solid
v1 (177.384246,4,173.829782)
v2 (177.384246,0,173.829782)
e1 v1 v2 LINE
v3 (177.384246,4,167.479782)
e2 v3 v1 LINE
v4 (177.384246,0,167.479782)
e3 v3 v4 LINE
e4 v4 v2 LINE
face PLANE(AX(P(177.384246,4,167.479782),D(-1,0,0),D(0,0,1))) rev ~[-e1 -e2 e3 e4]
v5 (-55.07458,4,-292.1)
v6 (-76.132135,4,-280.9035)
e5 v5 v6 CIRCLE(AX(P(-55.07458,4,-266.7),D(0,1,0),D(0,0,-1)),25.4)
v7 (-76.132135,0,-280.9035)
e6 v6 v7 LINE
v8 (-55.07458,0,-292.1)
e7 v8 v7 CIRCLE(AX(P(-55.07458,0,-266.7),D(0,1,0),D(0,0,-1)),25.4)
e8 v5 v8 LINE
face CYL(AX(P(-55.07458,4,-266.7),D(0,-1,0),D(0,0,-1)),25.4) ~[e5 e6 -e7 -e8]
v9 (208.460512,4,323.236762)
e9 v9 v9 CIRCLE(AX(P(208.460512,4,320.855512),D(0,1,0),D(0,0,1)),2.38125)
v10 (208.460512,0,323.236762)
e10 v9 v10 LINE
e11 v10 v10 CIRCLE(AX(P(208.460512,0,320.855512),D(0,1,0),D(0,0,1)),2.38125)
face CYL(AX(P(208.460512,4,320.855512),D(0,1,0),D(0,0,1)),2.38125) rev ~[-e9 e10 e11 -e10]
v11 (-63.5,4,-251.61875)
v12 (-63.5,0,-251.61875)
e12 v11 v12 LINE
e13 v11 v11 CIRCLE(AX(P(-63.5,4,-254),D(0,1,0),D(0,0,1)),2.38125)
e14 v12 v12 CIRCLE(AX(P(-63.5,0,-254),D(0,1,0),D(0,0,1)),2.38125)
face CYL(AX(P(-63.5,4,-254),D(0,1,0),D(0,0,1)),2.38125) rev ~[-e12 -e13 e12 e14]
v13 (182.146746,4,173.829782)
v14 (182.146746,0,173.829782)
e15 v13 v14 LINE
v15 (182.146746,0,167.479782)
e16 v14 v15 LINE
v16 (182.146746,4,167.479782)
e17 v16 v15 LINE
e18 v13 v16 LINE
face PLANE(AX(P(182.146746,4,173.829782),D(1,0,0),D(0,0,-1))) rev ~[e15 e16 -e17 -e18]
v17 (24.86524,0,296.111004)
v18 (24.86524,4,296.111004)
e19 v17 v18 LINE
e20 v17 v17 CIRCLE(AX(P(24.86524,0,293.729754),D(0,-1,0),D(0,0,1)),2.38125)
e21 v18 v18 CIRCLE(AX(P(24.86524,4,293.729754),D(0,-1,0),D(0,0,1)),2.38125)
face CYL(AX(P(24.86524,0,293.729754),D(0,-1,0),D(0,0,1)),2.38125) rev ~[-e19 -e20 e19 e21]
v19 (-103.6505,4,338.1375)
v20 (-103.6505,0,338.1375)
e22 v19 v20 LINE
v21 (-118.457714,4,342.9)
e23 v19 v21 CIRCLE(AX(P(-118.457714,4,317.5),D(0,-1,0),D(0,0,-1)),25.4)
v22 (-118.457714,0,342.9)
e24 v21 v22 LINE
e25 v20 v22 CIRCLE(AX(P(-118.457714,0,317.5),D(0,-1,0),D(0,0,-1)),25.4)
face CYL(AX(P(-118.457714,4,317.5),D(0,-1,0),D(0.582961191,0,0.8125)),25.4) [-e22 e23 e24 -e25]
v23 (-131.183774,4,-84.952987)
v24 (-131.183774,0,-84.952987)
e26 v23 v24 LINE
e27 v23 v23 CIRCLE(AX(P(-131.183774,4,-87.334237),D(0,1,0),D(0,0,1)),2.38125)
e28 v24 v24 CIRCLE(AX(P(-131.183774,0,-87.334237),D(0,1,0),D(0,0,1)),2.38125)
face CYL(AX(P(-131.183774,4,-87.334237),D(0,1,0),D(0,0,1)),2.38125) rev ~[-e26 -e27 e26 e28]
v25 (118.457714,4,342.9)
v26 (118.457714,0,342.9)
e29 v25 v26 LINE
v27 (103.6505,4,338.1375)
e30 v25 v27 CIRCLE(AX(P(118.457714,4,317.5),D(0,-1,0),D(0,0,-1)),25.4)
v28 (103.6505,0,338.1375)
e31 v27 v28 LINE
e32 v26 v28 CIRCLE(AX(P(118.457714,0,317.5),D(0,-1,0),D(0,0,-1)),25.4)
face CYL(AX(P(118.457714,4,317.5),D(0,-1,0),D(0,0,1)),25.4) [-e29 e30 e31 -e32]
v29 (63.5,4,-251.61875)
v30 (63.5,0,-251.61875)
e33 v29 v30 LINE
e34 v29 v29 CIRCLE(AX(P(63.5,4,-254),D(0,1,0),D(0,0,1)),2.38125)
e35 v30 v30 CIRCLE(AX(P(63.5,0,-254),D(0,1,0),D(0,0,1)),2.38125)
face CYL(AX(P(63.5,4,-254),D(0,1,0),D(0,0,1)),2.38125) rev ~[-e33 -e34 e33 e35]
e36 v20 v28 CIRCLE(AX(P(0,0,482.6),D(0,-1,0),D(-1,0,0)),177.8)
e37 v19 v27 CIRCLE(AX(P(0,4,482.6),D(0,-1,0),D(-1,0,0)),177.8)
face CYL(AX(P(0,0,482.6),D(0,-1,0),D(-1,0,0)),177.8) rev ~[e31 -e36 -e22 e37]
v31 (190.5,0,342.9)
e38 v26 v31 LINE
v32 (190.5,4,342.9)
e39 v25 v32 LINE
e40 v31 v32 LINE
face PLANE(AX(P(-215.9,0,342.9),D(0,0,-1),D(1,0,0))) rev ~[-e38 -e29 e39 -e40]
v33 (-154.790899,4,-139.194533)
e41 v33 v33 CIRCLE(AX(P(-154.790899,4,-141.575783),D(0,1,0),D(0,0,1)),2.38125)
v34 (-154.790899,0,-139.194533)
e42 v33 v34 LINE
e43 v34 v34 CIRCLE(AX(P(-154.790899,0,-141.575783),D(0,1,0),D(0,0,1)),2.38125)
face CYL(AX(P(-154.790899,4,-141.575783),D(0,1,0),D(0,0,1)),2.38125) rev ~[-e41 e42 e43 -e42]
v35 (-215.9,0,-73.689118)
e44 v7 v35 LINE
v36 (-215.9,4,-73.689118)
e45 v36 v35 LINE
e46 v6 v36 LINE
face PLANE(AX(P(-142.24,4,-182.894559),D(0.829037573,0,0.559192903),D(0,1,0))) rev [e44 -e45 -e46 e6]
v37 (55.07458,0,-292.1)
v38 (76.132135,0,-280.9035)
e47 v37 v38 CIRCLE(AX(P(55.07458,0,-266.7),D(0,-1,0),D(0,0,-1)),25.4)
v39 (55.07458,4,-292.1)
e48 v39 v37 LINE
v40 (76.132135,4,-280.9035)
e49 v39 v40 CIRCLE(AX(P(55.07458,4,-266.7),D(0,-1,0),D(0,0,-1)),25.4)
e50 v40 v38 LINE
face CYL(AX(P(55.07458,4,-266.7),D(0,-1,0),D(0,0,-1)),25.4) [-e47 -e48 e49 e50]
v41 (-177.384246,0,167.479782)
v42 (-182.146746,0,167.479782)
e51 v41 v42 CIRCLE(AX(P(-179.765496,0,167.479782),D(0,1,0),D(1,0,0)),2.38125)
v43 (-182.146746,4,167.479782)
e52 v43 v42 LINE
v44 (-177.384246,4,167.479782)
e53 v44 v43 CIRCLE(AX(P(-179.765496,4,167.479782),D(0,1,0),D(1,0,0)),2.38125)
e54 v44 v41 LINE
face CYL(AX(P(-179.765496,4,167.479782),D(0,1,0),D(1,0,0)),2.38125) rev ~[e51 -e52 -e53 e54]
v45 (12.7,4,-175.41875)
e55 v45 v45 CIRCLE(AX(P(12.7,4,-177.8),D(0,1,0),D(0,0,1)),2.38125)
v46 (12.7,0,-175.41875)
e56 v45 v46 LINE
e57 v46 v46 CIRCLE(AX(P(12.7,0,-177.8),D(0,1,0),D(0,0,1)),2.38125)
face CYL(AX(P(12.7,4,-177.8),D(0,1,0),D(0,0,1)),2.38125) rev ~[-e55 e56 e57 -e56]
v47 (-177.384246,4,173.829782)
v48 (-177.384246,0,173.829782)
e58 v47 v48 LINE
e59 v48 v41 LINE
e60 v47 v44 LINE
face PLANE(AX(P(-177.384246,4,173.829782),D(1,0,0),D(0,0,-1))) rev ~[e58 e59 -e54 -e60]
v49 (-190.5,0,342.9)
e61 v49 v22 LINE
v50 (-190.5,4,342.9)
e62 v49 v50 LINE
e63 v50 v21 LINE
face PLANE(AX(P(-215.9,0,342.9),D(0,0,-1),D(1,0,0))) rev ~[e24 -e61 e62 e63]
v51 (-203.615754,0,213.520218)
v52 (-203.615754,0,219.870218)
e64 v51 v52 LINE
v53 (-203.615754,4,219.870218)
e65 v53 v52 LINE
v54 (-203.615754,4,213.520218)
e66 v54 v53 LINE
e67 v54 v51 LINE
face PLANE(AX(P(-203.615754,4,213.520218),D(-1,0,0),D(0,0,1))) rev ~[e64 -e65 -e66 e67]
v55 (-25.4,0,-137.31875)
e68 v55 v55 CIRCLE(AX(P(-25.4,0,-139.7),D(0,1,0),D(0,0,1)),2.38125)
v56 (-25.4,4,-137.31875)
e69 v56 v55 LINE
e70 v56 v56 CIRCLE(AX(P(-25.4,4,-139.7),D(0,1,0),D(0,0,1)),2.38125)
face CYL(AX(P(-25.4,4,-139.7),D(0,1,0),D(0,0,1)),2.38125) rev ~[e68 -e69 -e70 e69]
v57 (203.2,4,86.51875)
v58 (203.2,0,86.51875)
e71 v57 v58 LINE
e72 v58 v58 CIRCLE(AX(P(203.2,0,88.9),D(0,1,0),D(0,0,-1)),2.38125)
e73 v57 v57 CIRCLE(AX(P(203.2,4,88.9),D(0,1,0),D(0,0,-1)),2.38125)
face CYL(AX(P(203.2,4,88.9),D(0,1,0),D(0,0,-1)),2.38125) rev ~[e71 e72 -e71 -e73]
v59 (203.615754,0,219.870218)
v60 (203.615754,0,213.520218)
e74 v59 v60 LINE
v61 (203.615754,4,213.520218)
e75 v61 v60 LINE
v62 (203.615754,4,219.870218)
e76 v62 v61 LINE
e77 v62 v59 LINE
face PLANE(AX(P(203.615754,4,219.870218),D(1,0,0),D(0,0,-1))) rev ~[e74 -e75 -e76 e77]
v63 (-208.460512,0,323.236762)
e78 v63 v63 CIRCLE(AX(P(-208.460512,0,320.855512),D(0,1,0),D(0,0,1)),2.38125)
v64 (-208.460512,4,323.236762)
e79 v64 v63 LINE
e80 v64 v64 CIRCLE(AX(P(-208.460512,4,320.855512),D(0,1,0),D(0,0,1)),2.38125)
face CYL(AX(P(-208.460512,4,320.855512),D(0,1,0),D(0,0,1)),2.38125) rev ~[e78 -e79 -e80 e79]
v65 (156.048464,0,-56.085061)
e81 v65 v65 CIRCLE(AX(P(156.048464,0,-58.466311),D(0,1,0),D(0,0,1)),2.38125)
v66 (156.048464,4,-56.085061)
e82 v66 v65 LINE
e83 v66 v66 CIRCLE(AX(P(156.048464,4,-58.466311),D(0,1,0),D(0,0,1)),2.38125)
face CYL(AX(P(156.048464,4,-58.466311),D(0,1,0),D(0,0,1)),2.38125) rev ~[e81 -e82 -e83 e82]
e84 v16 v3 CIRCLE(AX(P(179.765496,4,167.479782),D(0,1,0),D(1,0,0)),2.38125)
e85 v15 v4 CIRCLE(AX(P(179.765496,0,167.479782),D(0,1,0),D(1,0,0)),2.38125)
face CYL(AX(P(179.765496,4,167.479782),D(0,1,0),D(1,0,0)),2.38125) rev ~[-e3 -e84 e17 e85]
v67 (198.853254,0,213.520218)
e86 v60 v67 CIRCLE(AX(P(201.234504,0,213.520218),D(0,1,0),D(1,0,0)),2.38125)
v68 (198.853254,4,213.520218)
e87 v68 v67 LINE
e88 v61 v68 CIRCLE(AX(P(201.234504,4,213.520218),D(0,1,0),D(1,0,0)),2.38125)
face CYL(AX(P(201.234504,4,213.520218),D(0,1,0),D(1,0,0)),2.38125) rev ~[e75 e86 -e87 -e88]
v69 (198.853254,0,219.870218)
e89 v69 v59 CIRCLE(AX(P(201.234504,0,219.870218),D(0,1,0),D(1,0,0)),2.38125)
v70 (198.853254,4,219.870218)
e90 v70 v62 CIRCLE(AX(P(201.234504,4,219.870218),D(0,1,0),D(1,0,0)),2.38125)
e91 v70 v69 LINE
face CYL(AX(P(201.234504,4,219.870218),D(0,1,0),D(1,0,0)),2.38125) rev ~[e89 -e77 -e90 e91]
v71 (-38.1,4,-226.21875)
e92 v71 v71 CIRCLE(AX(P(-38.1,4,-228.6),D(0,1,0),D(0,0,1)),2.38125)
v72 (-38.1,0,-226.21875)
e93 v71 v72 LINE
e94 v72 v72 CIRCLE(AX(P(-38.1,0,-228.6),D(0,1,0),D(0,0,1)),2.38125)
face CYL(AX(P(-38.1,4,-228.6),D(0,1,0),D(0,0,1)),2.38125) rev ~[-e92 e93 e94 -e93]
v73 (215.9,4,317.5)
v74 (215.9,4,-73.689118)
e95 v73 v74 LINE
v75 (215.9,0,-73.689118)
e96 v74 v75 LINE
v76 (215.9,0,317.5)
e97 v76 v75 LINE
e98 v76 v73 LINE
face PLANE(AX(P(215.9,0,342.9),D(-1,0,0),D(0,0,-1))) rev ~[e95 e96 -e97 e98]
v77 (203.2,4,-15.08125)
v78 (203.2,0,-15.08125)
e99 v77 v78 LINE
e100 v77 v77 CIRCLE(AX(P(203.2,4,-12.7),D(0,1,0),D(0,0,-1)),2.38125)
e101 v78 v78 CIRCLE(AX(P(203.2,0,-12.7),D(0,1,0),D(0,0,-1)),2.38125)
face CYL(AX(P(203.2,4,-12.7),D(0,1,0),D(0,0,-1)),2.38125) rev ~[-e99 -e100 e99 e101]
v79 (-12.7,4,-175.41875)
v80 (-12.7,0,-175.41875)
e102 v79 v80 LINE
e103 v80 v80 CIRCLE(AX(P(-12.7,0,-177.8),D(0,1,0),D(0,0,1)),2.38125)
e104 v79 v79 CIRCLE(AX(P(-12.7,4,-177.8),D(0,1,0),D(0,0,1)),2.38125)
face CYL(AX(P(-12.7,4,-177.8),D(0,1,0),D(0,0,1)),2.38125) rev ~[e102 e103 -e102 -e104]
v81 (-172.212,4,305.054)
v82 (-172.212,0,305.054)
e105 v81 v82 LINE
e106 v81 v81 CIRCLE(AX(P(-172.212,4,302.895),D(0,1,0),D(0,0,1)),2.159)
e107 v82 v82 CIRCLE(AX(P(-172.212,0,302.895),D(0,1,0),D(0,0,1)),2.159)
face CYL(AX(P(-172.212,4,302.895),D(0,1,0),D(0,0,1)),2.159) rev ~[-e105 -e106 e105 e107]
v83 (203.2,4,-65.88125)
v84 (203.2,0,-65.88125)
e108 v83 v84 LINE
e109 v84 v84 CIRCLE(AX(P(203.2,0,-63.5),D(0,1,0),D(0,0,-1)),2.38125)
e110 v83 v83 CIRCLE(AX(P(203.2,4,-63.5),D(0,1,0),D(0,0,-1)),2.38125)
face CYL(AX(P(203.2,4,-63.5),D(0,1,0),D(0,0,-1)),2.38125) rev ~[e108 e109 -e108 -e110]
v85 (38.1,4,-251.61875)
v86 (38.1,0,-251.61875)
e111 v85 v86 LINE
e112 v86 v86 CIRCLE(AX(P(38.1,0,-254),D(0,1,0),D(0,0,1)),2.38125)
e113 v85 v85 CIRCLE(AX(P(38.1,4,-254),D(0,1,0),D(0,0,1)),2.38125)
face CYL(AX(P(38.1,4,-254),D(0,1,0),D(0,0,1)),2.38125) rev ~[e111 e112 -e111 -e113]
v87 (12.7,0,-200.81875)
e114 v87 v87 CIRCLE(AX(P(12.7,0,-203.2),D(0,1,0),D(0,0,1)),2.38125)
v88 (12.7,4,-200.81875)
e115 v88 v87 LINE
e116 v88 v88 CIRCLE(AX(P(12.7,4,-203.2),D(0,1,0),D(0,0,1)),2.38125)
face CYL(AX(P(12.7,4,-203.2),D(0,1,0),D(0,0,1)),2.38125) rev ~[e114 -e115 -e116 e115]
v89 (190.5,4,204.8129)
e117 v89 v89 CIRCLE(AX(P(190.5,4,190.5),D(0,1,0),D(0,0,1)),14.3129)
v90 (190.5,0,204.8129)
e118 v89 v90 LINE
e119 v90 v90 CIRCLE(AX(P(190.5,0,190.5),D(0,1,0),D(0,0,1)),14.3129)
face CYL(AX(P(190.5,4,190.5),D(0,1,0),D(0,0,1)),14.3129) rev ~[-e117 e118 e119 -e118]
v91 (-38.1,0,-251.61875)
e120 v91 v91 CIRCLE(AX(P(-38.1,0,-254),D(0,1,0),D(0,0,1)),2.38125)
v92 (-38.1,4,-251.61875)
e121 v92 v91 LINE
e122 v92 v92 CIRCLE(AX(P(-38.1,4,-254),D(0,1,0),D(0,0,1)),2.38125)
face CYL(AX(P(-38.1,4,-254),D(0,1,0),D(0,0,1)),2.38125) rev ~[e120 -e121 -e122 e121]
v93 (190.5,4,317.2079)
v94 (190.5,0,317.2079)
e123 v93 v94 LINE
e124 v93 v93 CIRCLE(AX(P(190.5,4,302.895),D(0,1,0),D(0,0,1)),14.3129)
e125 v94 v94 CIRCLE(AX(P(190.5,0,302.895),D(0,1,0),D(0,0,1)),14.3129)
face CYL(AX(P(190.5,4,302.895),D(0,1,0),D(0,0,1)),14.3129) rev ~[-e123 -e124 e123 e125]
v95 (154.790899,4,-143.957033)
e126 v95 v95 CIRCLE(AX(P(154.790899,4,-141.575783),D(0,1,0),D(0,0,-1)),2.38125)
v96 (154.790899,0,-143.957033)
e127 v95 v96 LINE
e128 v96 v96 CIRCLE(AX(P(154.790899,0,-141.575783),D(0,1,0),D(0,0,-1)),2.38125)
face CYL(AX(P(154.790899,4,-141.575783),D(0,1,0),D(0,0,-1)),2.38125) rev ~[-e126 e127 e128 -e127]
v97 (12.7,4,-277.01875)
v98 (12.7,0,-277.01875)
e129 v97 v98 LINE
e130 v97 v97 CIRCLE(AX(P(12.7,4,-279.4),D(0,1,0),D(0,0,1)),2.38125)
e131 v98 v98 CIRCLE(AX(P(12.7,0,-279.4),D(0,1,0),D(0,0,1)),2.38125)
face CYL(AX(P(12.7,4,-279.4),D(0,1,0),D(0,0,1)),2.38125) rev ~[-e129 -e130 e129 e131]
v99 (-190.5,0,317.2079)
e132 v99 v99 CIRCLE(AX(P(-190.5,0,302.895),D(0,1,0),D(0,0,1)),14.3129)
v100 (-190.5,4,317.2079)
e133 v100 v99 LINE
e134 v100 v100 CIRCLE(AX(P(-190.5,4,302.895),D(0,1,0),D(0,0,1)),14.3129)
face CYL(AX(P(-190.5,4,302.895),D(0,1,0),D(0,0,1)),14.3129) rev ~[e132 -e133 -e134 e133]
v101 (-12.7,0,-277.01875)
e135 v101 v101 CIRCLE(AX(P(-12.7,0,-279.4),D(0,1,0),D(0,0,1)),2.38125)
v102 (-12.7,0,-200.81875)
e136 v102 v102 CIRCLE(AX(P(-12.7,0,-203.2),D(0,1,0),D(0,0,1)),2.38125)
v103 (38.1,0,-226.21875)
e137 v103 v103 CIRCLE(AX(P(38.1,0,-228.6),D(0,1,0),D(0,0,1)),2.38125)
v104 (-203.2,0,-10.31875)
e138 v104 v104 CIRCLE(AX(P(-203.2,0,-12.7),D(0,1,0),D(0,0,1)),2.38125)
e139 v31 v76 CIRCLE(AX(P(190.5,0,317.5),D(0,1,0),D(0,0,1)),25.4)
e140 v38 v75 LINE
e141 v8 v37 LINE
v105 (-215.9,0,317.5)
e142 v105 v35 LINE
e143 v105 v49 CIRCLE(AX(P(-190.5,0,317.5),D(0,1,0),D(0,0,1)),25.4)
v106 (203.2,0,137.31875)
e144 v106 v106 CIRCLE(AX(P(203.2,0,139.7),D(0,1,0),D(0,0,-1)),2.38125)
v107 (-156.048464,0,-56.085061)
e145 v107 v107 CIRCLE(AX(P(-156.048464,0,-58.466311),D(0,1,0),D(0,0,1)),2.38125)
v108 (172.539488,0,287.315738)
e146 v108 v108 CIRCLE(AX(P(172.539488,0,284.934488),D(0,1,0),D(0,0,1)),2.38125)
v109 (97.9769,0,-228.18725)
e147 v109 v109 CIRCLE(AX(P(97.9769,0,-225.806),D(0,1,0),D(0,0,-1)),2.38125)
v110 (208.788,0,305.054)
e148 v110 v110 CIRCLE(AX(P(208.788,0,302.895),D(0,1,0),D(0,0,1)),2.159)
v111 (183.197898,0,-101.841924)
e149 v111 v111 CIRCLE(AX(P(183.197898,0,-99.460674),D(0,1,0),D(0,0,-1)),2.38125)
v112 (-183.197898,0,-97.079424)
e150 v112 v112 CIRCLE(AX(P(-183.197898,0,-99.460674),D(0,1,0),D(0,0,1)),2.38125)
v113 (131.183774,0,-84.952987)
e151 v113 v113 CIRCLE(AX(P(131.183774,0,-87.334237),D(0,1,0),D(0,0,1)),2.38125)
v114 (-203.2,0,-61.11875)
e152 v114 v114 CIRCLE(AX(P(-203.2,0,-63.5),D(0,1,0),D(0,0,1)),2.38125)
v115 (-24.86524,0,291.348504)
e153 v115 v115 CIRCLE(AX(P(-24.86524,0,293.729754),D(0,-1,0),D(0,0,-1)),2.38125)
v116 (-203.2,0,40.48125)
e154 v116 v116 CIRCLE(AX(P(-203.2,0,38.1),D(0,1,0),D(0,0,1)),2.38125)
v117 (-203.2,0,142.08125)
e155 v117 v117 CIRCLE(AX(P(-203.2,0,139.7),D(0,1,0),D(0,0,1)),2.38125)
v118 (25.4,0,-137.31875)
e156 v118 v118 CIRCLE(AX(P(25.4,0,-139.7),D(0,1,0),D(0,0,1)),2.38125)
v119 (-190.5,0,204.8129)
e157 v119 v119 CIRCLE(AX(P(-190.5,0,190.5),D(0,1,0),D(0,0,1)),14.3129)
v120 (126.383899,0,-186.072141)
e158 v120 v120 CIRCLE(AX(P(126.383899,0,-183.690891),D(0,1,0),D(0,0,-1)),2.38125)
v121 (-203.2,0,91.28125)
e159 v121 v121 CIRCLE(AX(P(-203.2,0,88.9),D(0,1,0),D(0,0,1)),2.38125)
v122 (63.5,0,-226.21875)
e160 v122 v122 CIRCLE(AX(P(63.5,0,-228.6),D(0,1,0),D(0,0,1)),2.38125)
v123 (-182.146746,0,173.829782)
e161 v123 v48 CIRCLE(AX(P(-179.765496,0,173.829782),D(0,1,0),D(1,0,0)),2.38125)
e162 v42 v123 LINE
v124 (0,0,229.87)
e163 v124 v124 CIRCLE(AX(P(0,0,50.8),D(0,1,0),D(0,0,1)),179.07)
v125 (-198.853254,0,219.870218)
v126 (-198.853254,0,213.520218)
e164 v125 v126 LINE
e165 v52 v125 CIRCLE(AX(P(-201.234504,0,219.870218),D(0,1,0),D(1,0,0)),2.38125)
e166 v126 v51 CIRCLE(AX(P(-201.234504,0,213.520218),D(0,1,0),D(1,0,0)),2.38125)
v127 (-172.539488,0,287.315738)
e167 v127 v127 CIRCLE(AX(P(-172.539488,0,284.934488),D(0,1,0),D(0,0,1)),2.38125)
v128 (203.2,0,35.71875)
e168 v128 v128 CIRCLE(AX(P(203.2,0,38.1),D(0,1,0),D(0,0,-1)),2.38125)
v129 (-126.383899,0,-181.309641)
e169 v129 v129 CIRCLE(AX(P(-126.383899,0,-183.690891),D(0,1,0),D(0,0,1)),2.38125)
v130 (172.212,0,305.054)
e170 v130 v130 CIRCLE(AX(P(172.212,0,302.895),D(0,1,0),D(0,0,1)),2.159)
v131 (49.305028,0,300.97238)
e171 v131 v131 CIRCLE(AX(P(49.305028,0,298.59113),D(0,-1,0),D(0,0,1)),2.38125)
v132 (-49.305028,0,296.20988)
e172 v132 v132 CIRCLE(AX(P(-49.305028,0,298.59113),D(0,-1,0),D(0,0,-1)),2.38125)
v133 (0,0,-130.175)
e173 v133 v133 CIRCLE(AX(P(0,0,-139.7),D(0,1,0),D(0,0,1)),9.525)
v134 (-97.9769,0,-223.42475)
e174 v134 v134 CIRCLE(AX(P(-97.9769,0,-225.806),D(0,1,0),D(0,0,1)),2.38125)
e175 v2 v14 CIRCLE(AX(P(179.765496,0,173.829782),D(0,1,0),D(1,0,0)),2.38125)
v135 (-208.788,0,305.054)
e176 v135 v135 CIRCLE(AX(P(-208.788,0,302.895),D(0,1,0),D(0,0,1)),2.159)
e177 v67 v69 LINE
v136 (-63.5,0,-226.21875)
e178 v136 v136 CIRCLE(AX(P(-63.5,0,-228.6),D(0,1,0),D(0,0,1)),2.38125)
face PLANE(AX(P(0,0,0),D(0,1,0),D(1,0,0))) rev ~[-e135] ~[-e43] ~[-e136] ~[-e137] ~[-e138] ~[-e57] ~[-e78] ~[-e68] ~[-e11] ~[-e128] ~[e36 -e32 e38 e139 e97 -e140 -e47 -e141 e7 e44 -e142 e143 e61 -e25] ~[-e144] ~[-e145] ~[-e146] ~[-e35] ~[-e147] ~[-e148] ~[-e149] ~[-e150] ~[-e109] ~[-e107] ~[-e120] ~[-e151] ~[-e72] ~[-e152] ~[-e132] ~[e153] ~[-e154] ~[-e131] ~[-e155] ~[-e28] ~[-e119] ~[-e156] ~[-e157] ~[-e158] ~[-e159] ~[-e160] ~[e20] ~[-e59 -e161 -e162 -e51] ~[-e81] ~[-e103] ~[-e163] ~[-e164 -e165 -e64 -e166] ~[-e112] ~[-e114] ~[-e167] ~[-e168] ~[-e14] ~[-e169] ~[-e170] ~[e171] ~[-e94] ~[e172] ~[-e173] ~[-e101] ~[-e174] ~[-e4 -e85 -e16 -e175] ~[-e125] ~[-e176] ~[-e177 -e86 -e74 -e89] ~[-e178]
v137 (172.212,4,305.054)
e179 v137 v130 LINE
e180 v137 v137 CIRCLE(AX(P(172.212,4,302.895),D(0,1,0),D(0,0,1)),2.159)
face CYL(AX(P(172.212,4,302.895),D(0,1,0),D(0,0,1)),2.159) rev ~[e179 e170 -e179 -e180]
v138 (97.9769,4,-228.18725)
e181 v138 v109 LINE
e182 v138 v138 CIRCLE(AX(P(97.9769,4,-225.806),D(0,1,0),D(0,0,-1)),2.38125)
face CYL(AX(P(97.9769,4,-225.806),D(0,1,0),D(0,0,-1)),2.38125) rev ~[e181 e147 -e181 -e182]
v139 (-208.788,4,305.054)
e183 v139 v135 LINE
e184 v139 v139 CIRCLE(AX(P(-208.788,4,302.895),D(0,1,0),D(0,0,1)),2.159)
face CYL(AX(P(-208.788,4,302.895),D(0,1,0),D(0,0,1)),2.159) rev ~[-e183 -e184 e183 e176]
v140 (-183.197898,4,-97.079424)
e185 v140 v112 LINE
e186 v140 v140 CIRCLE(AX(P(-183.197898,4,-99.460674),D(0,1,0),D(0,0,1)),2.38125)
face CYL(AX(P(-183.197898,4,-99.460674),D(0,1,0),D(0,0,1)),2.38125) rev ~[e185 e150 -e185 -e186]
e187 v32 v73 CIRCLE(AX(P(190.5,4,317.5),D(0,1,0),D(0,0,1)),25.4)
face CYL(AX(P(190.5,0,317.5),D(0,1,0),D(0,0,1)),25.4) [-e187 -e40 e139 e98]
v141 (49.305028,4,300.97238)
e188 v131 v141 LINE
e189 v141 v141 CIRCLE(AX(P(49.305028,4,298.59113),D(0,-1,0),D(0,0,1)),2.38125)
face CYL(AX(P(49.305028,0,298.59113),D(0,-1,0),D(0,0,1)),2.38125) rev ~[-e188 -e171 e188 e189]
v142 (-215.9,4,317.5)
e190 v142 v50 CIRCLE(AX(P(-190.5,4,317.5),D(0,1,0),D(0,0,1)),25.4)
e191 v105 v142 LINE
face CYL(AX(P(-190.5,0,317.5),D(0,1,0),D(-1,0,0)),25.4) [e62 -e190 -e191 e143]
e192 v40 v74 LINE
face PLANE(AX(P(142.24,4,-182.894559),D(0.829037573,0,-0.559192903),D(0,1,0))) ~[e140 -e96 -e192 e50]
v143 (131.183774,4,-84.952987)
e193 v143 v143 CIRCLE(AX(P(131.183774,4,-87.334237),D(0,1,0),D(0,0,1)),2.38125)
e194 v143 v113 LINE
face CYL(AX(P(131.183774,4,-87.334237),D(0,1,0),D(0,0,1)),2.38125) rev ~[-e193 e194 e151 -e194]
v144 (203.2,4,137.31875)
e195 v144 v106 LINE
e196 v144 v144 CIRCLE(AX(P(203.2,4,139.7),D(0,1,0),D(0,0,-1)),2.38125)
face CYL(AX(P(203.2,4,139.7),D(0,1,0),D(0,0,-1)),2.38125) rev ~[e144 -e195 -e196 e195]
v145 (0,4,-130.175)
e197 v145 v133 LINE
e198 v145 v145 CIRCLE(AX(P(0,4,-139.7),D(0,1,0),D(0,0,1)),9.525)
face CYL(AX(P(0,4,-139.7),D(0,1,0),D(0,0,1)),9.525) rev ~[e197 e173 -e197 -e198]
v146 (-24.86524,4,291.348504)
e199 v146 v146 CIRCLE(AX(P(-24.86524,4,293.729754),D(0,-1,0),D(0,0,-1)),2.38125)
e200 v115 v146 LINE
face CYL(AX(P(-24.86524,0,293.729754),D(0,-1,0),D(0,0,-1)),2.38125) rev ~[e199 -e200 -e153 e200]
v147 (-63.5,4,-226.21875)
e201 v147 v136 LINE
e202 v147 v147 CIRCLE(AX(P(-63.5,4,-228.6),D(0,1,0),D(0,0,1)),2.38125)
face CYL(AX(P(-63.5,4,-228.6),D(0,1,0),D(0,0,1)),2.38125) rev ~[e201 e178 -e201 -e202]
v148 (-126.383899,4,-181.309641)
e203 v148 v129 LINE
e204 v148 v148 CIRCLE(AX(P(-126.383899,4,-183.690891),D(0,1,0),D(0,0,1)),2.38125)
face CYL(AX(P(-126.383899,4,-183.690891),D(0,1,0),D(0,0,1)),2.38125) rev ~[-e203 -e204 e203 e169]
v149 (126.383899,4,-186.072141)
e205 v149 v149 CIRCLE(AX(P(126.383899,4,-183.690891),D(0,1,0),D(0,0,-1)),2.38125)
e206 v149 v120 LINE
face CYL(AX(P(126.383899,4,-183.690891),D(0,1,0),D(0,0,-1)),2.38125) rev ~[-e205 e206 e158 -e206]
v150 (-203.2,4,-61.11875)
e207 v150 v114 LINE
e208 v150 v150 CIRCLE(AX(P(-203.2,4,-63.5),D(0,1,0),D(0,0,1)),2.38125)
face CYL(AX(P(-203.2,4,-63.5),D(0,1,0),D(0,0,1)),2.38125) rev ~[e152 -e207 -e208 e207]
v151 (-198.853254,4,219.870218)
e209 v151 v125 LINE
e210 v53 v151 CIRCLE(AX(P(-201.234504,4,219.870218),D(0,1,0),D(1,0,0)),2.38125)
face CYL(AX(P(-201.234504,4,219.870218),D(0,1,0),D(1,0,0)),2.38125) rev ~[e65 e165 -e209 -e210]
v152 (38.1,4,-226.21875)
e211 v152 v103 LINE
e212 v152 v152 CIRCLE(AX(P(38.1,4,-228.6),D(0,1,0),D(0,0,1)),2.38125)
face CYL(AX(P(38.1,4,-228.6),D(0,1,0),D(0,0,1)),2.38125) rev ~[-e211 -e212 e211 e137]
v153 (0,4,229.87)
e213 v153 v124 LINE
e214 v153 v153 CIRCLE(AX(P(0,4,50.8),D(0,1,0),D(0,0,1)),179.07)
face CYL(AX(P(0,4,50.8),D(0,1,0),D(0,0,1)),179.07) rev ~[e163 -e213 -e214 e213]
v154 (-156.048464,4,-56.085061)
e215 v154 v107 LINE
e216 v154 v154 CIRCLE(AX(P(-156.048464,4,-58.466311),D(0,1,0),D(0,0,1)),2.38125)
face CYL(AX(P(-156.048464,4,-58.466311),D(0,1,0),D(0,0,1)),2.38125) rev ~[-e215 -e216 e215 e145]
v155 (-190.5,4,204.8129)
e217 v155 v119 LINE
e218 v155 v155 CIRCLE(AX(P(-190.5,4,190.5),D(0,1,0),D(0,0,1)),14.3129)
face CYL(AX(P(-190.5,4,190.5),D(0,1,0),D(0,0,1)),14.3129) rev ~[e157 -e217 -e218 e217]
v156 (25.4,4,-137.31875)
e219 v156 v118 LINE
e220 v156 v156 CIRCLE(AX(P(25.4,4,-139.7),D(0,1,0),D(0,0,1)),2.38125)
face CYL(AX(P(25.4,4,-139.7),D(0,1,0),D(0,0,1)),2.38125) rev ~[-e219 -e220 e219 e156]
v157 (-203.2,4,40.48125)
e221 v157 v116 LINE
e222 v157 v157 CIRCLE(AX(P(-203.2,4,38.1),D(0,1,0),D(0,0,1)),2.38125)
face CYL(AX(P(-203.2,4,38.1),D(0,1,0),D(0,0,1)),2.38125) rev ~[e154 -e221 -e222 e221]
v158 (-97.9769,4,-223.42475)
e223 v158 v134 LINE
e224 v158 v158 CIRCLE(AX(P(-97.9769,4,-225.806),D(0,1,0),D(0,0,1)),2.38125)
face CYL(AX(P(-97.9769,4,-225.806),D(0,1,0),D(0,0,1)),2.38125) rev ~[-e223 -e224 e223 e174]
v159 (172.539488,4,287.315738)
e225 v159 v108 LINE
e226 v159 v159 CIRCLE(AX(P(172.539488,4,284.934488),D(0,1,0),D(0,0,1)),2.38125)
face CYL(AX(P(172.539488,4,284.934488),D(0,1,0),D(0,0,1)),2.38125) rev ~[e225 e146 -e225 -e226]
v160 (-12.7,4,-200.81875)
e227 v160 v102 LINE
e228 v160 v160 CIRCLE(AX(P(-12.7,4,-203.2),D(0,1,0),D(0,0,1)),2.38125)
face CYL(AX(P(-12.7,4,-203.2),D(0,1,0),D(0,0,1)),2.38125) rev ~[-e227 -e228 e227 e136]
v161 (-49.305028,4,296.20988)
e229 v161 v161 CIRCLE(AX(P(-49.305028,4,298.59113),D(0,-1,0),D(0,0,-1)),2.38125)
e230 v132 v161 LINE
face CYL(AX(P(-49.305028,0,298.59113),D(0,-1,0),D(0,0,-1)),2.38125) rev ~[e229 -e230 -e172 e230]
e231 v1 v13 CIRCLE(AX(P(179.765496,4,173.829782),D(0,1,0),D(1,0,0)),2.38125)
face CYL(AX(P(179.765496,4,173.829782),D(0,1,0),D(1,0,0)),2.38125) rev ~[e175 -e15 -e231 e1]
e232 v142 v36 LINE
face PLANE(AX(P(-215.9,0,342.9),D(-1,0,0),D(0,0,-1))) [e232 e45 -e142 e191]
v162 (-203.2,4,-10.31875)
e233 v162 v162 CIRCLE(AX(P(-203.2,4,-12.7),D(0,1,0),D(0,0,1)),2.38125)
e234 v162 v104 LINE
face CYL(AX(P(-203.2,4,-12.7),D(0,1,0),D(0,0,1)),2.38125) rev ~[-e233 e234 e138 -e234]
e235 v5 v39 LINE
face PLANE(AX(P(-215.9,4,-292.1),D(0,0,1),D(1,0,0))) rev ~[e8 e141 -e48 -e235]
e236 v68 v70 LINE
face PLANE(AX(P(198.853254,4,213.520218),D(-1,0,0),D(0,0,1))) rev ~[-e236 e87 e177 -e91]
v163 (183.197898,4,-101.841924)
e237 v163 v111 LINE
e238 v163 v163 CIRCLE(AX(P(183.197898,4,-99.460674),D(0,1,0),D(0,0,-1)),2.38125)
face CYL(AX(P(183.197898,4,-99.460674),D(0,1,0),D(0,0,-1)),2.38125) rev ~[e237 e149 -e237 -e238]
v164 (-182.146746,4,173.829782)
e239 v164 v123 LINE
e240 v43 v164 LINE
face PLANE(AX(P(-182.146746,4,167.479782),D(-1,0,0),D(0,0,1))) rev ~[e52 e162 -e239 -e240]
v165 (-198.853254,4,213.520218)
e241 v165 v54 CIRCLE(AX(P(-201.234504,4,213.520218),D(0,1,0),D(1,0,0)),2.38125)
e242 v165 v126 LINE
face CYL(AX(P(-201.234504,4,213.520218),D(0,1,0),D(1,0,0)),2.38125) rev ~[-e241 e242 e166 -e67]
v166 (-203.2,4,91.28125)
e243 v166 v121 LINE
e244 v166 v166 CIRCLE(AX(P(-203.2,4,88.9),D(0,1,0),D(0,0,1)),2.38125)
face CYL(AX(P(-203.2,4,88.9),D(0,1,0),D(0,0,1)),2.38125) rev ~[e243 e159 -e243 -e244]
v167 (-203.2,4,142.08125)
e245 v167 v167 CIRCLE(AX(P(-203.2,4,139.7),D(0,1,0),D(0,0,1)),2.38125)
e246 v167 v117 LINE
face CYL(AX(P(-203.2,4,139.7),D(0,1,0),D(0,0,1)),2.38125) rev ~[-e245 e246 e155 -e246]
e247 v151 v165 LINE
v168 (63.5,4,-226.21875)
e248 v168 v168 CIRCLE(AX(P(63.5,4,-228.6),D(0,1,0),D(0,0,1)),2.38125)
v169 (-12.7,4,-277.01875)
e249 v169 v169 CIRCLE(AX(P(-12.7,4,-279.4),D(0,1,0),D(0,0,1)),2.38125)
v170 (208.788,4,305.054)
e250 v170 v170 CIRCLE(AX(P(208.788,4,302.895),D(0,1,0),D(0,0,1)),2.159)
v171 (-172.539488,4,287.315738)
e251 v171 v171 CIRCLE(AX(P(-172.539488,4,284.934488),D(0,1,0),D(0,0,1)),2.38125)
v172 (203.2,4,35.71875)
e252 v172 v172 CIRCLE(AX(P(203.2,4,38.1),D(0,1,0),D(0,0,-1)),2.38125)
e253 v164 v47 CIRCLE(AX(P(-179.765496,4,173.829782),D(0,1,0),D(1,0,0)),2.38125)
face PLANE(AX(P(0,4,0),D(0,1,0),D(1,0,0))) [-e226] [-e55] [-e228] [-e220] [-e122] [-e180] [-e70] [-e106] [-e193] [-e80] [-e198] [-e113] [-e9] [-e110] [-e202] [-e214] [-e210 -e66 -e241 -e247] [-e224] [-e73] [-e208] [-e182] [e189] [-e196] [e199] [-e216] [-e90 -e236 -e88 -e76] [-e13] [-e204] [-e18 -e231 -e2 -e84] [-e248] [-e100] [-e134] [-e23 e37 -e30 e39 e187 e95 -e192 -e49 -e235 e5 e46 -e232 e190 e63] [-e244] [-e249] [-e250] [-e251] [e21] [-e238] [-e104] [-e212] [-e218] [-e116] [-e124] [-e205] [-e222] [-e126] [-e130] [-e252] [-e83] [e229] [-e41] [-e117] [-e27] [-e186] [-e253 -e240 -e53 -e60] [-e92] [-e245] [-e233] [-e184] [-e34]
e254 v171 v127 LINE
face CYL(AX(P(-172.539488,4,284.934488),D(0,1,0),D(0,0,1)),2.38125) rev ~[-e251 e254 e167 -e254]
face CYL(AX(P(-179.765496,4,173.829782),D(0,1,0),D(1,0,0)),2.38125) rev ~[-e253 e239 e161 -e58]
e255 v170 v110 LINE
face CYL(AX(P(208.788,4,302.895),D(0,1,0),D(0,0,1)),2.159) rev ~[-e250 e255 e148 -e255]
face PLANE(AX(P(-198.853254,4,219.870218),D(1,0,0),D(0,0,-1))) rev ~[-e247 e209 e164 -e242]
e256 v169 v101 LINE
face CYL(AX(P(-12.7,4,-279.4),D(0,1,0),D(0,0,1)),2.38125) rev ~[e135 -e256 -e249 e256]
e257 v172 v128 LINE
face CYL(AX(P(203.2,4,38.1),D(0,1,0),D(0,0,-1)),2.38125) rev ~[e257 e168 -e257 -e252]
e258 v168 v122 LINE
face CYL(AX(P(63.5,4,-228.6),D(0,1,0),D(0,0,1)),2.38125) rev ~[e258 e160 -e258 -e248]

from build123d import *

# Parameters (mm, degrees)
SKETCH1_W           = 431.8
SKETCH1_H           = 685.8
BOSS_EXTRUDE1_DEPTH = 4
SKETCH2_R           = 14.3129
SKETCH2_R_2         = 2.38125
SKETCH2_R_3         = 2.159
CUT_EXTRUDE1_DEPTH  = 406.227368276
SKETCH6_R           = 179.07
CUT_EXTRUDE4_DEPTH  = 406.227368276
SKETCH8_R           = 9.525
SKETCH8_R_2         = 2.38125
CUT_EXTRUDE6_DEPTH  = 406.227368276
FILLET2_R           = 25.4
SKETCH11_R          = 2.38125
CUT_EXTRUDE9_DEPTH  = 406.227368276
SKETCH13_R          = 2.38125
SKETCH13_R_2        = 2.466421692
SKETCH13_R_3        = 2.307769972
CUT_EXTRUDE10_DEPTH = 406.227368276
SKETCH16_W          = 431.8
SKETCH16_H          = 50.8
CUT_EXTRUDE13_DEPTH = 406.227368276
SKETCH17_R          = 177.8
SKETCH17_R_2        = 2.38125
CUT_EXTRUDE14_DEPTH = 406.227368276
FILLET3_R           = 25.4
SKETCH18_R          = 2.38125
CUT_EXTRUDE15_DEPTH = 406.227368276
CHAMFER1_SIZE       = 147.32
CHAMFER1_SIZE2      = 218.410881881
CHAMFER2_SIZE       = 147.32
CHAMFER2_SIZE2      = 218.410881881
FILLET4_R           = 25.4
SKETCH19_R          = 2.38125
CUT_EXTRUDE16_DEPTH = 406.227368276


with BuildPart() as part:
    # Sketch1 → Boss-Extrude1 (new body)
    with BuildSketch(Plane(origin=(0, 0, 0), x_dir=(1, 0, 0), z_dir=(0, 1, 0))):
        Rectangle(SKETCH1_W, SKETCH1_H)
    extrude(amount=BOSS_EXTRUDE1_DEPTH)

    # Sketch2 → Cut-Extrude1 (cut, through all)
    with BuildSketch(Plane(origin=(0, 4, 0), x_dir=(1, 0, 0), z_dir=(0, 1, 0))):
        with Locations(Location((190.5, -302.895, 0), (0, 0, 270))):
            Circle(SKETCH2_R)
        with Locations(Location((208.460512242, -320.855512242, 0), (0, 0, 270))):
            Circle(SKETCH2_R_2)
        with Locations(Location((208.788, -302.895, 0), (0, 0, 270))):
            Circle(SKETCH2_R_3)
        with Locations(Location((172.212, -302.895, 0), (0, 0, 270))):
            Circle(SKETCH2_R_3)
        with Locations(Location((172.539487758, -284.934487758, 0), (0, 0, 270))):
            Circle(SKETCH2_R_2)
        with Locations((201.234503848, -219.870217791)):
            Circle(SKETCH2_R_2)
        with BuildLine():
            ThreePointArc((198.853253848, -219.870217791), (201.234503848, -217.488967791), (203.615753848, -219.870217791))
            Line((203.615753848, -219.870217791), (203.615753848, -213.520217791))
            ThreePointArc((203.615753848, -213.520217791), (201.234503848, -215.901467791), (198.853253848, -213.520217791))
            Line((198.853253848, -213.520217791), (198.853253848, -219.870217791))
        make_face()
        with Locations((201.234503848, -213.520217791)):
            Circle(SKETCH2_R_2)
        with Locations(Location((190.5, -190.5, 0), (0, 0, 270))):
            Circle(SKETCH2_R)
        with Locations((179.765496152, -173.829782209)):
            Circle(SKETCH2_R_2)
        with BuildLine():
            ThreePointArc((177.384246152, -173.829782209), (179.765496152, -171.448532209), (182.146746152, -173.829782209))
            Line((182.146746152, -173.829782209), (182.146746152, -167.479782209))
            ThreePointArc((182.146746152, -167.479782209), (179.765496152, -169.861032209), (177.384246152, -167.479782209))
            Line((177.384246152, -167.479782209), (177.384246152, -173.829782209))
        make_face()
        with Locations((179.765496152, -167.479782209)):
            Circle(SKETCH2_R_2)
        with Locations((-179.765496152, -167.479782209)):
            Circle(SKETCH2_R_2)
        with Locations((-179.765496152, -173.829782209)):
            Circle(SKETCH2_R_2)
        with BuildLine():
            ThreePointArc((-182.146746152, -173.829782209), (-179.765496152, -171.448532209), (-177.384246152, -173.829782209))
            Line((-177.384246152, -173.829782209), (-177.384246152, -167.479782209))
            ThreePointArc((-177.384246152, -167.479782209), (-179.765496152, -169.861032209), (-182.146746152, -167.479782209))
            Line((-182.146746152, -167.479782209), (-182.146746152, -173.829782209))
        make_face()
        with Locations(Location((-190.5, -190.5, 0), (0, 0, 270))):
            Circle(SKETCH2_R)
        with Locations((-201.234503848, -213.520217791)):
            Circle(SKETCH2_R_2)
        with Locations((-201.234503848, -219.870217791)):
            Circle(SKETCH2_R_2)
        with Locations(Location((-190.5, -302.895, 0), (0, 0, 270))):
            Circle(SKETCH2_R)
        with Locations(Location((-208.460512242, -320.855512242, 0), (0, 0, 270))):
            Circle(SKETCH2_R_2)
        with Locations(Location((-208.788, -302.895, 0), (0, 0, 270))):
            Circle(SKETCH2_R_3)
        with Locations(Location((-172.212, -302.895, 0), (0, 0, 270))):
            Circle(SKETCH2_R_3)
        with Locations(Location((-172.539487758, -284.934487758, 0), (0, 0, 270))):
            Circle(SKETCH2_R_2)
        with BuildLine():
            ThreePointArc((-203.615753848, -219.870217791), (-201.234503848, -217.488967791), (-198.853253848, -219.870217791))
            Line((-198.853253848, -219.870217791), (-198.853253848, -213.520217791))
            ThreePointArc((-198.853253848, -213.520217791), (-201.234503848, -215.901467791), (-203.615753848, -213.520217791))
            Line((-203.615753848, -213.520217791), (-203.615753848, -219.870217791))
        make_face()
    extrude(amount=-CUT_EXTRUDE1_DEPTH, mode=Mode.SUBTRACT)

    # Sketch6 → Cut-Extrude4 (cut, through all)
    with BuildSketch(Plane(origin=(0, 4, 0), x_dir=(1, 0, 0), z_dir=(0, 1, 0))):
        with Locations(Location((0, -50.8, 0), (0, 0, 270))):
            Circle(SKETCH6_R)
    extrude(amount=-CUT_EXTRUDE4_DEPTH, mode=Mode.SUBTRACT)

    # Sketch8 → Cut-Extrude6 (cut, through all)
    with BuildSketch(Plane(origin=(0, 4, 0), x_dir=(1, 0, 0), z_dir=(0, 1, 0))):
        with Locations(Location((0, 139.7, 0), (0, 0, 270))):
            Circle(SKETCH8_R)
        with Locations(Location((25.4, 139.7, 0), (0, 0, 270))):
            Circle(SKETCH8_R_2)
        with Locations(Location((-25.4, 139.7, 0), (0, 0, 270))):
            Circle(SKETCH8_R_2)
    extrude(amount=-CUT_EXTRUDE6_DEPTH, mode=Mode.SUBTRACT)

    # Fillet2
    fillet2_edges = [part.edges().sort_by_distance(p)[0] for p in [
        (215.9, 2, 342.9),
        (-215.9, 2, 342.9),
    ]]
    fillet(fillet2_edges, radius=FILLET2_R)

    # Sketch11 → Cut-Extrude9 (cut, through all)
    with BuildSketch(Plane(origin=(0, 4, 0), x_dir=(1, 0, 0), z_dir=(0, 1, 0))):
        with Locations(Location((156.048464437, 58.466311125, 0), (0, 0, 270))):
            Circle(SKETCH11_R)
        with Locations(Location((131.183773775, 87.334237241, 0), (0, 0, 270))):
            Circle(SKETCH11_R)
        with Locations(Location((-131.183773775, 87.334237241, 0), (0, 0, 270))):
            Circle(SKETCH11_R)
        with Locations(Location((-156.048464437, 58.466311125, 0), (0, 0, 270))):
            Circle(SKETCH11_R)
    extrude(amount=-CUT_EXTRUDE9_DEPTH, mode=Mode.SUBTRACT)

    # Sketch13 → Cut-Extrude10 (cut, through all)
    with BuildSketch(Plane(origin=(0, 4, 0), x_dir=(1, 0, 0), z_dir=(0, 1, 0))):
        with Locations(Location((-203.2, 317.5, 0), (0, 0, 270))):
            Circle(SKETCH13_R)
        with Locations(Location((-203.2, 266.7, 0), (0, 0, 270))):
            Circle(SKETCH13_R)
        with Locations(Location((-203.2, 215.9, 0), (0, 0, 270))):
            Circle(SKETCH13_R)
        with Locations(Location((-203.2, 165.1, 0), (0, 0, 270))):
            Circle(SKETCH13_R)
        with Locations(Location((-203.2, 114.3, 0), (0, 0, 270))):
            Circle(SKETCH13_R)
        with Locations(Location((-203.2, 63.5, 0), (0, 0, 270))):
            Circle(SKETCH13_R)
        with Locations(Location((-203.2, 12.7, 0), (0, 0, 270))):
            Circle(SKETCH13_R)
        with Locations(Location((-203.2, -38.1, 0), (0, 0, 270))):
            Circle(SKETCH13_R)
        with Locations(Location((-203.2, -88.9, 0), (0, 0, 270))):
            Circle(SKETCH13_R)
        with Locations(Location((-203.2, -139.7, 0), (0, 0, 270))):
            Circle(SKETCH13_R)
        with Locations(Location((203.2, -139.7, 0), (0, 0, 90))):
            Circle(SKETCH13_R)
        with Locations(Location((203.2, 12.7, 0), (0, 0, 90))):
            Circle(SKETCH13_R)
        with Locations(Location((203.2, 63.5, 0), (0, 0, 90))):
            Circle(SKETCH13_R)
        with Locations(Location((203.2, 114.3, 0), (0, 0, 90))):
            Circle(SKETCH13_R)
        with Locations(Location((203.2, 165.1, 0), (0, 0, 90))):
            Circle(SKETCH13_R)
        with Locations(Location((203.2, 266.7, 0), (0, 0, 90))):
            Circle(SKETCH13_R)
        with Locations(Location((203.2, 317.5, 0), (0, 0, 90))):
            Circle(SKETCH13_R)
        with Locations(Location((-25.4, -330.2, 0), (0, 0, 270))):
            Circle(SKETCH13_R_2)
        with Locations(Location((-50.8, -330.2, 0), (0, 0, 270))):
            Circle(SKETCH13_R_3)
        with Locations(Location((50.8, -330.2, 0), (0, 0, 90))):
            Circle(SKETCH13_R_3)
        with Locations(Location((25.4, -330.2, 0), (0, 0, 90))):
            Circle(SKETCH13_R_2)
        with Locations(Location((203.2, -88.9, 0), (0, 0, 90))):
            Circle(SKETCH13_R)
        with Locations(Location((203.2, -38.1, 0), (0, 0, 90))):
            Circle(SKETCH13_R)
        with Locations(Location((203.2, 215.9, 0), (0, 0, 90))):
            Circle(SKETCH13_R)
    extrude(amount=-CUT_EXTRUDE10_DEPTH, mode=Mode.SUBTRACT)

    # Sketch16 → Cut-Extrude13 (cut, through all)
    with BuildSketch(Plane(origin=(0, 4, 0), x_dir=(1, 0, 0), z_dir=(0, 1, 0))):
        with Locations((0, 317.5)):
            Rectangle(SKETCH16_W, SKETCH16_H)
    extrude(amount=-CUT_EXTRUDE13_DEPTH, mode=Mode.SUBTRACT)

    # Sketch17 → Cut-Extrude14 (cut, through all)
    with BuildSketch(Plane(origin=(0, 0, 0), x_dir=(-1, 0, 0), z_dir=(0, -1, 0))):
        with Locations((0, -482.6)):
            Circle(SKETCH17_R)
        with Locations(Location((24.865239618, -293.729753908, 0), (0, 0, 90))):
            Circle(SKETCH17_R_2)
        with Locations(Location((49.305028092, -298.591130092, 0), (0, 0, 90))):
            Circle(SKETCH17_R_2)
        with Locations(Location((-24.865239618, -293.729753908, 0), (0, 0, 270))):
            Circle(SKETCH17_R_2)
        with Locations(Location((-49.305028092, -298.591130092, 0), (0, 0, 270))):
            Circle(SKETCH17_R_2)
    extrude(amount=-CUT_EXTRUDE14_DEPTH, mode=Mode.SUBTRACT)

    # Fillet3
    fillet3_edges = [part.edges().sort_by_distance(p)[0] for p in [
        (-109.985226281, 2, 342.9),
        (109.985226281, 2, 342.9),
    ]]
    fillet(fillet3_edges, radius=FILLET3_R)

    # Sketch18 → Cut-Extrude15 (cut, through all)
    with BuildSketch(Plane(origin=(0, 4, 0), x_dir=(1, 0, 0), z_dir=(0, 1, 0))):
        with Locations(Location((38.1, 228.6, 0), (0, 0, 270))):
            Circle(SKETCH18_R)
        with Locations(Location((63.5, 228.6, 0), (0, 0, 270))):
            Circle(SKETCH18_R)
        with Locations(Location((63.5, 254, 0), (0, 0, 270))):
            Circle(SKETCH18_R)
        with Locations(Location((38.1, 254, 0), (0, 0, 270))):
            Circle(SKETCH18_R)
        with Locations(Location((-12.7, 177.8, 0), (0, 0, 270))):
            Circle(SKETCH18_R)
        with Locations(Location((-12.7, 203.2, 0), (0, 0, 270))):
            Circle(SKETCH18_R)
        with Locations(Location((12.7, 177.8, 0), (0, 0, 270))):
            Circle(SKETCH18_R)
        with Locations(Location((12.7, 203.2, 0), (0, 0, 270))):
            Circle(SKETCH18_R)
        with Locations(Location((-63.5, 254, 0), (0, 0, 270))):
            Circle(SKETCH18_R)
        with Locations(Location((-38.1, 254, 0), (0, 0, 270))):
            Circle(SKETCH18_R)
        with Locations(Location((-63.5, 228.6, 0), (0, 0, 270))):
            Circle(SKETCH18_R)
        with Locations(Location((-38.1, 228.6, 0), (0, 0, 270))):
            Circle(SKETCH18_R)
        with Locations((12.7, 304.8)):
            Circle(SKETCH18_R)
        with Locations(Location((12.7, 279.4, 0), (0, 0, 270))):
            Circle(SKETCH18_R)
        with Locations((-12.7, 304.8)):
            Circle(SKETCH18_R)
        with Locations(Location((-12.7, 279.4, 0), (0, 0, 270))):
            Circle(SKETCH18_R)
    extrude(amount=-CUT_EXTRUDE15_DEPTH, mode=Mode.SUBTRACT)

    # Chamfer1
    chamfer1_edges = [part.edges().sort_by_distance(p)[0] for p in [
        (215.9, 2, -292.1),
    ]]
    chamfer1_side = [part.faces().sort_by_distance(p)[0] for p in [
        (0, 2, -292.1),
    ]]
    chamfer(chamfer1_edges, length=CHAMFER1_SIZE, length2=CHAMFER1_SIZE2, reference=chamfer1_side[0])

    # Chamfer2
    chamfer2_edges = [part.edges().sort_by_distance(p)[0] for p in [
        (-215.9, 2, -292.1),
    ]]
    chamfer2_side = [part.faces().sort_by_distance(p)[0] for p in [
        (-73.66, 2, -292.1),
    ]]
    chamfer(chamfer2_edges, length=CHAMFER2_SIZE, length2=CHAMFER2_SIZE2, reference=chamfer2_side[0])

    # Fillet4
    fillet4_edges = [part.edges().sort_by_distance(p)[0] for p in [
        (68.58, 2, -292.1),
        (-68.58, 2, -292.1),
    ]]
    fillet(fillet4_edges, radius=FILLET4_R)

    # Sketch19 → Cut-Extrude16 (cut, through all)
    with BuildSketch(Plane(origin=(0, 4, 0), x_dir=(1, 0, 0), z_dir=(0, 1, 0))):
        with Locations(Location((-97.97689967, 225.806, 0), (0, 0, 270))):
            Circle(SKETCH19_R)
        with Locations(Location((-126.383899166, 183.690891314, 0), (0, 0, 270))):
            Circle(SKETCH19_R)
        with Locations(Location((-154.790898662, 141.575782628, 0), (0, 0, 270))):
            Circle(SKETCH19_R)
        with Locations(Location((-183.197898158, 99.460673943, 0), (0, 0, 270))):
            Circle(SKETCH19_R)
        with Locations(Location((183.197898158, 99.460673943, 0), (0, 0, 90))):
            Circle(SKETCH19_R)
        with Locations(Location((154.790898662, 141.575782628, 0), (0, 0, 90))):
            Circle(SKETCH19_R)
        with Locations(Location((126.383899166, 183.690891314, 0), (0, 0, 90))):
            Circle(SKETCH19_R)
        with Locations(Location((97.97689967, 225.806, 0), (0, 0, 90))):
            Circle(SKETCH19_R)
    extrude(amount=-CUT_EXTRUDE16_DEPTH, mode=Mode.SUBTRACT)


solid = part.part
